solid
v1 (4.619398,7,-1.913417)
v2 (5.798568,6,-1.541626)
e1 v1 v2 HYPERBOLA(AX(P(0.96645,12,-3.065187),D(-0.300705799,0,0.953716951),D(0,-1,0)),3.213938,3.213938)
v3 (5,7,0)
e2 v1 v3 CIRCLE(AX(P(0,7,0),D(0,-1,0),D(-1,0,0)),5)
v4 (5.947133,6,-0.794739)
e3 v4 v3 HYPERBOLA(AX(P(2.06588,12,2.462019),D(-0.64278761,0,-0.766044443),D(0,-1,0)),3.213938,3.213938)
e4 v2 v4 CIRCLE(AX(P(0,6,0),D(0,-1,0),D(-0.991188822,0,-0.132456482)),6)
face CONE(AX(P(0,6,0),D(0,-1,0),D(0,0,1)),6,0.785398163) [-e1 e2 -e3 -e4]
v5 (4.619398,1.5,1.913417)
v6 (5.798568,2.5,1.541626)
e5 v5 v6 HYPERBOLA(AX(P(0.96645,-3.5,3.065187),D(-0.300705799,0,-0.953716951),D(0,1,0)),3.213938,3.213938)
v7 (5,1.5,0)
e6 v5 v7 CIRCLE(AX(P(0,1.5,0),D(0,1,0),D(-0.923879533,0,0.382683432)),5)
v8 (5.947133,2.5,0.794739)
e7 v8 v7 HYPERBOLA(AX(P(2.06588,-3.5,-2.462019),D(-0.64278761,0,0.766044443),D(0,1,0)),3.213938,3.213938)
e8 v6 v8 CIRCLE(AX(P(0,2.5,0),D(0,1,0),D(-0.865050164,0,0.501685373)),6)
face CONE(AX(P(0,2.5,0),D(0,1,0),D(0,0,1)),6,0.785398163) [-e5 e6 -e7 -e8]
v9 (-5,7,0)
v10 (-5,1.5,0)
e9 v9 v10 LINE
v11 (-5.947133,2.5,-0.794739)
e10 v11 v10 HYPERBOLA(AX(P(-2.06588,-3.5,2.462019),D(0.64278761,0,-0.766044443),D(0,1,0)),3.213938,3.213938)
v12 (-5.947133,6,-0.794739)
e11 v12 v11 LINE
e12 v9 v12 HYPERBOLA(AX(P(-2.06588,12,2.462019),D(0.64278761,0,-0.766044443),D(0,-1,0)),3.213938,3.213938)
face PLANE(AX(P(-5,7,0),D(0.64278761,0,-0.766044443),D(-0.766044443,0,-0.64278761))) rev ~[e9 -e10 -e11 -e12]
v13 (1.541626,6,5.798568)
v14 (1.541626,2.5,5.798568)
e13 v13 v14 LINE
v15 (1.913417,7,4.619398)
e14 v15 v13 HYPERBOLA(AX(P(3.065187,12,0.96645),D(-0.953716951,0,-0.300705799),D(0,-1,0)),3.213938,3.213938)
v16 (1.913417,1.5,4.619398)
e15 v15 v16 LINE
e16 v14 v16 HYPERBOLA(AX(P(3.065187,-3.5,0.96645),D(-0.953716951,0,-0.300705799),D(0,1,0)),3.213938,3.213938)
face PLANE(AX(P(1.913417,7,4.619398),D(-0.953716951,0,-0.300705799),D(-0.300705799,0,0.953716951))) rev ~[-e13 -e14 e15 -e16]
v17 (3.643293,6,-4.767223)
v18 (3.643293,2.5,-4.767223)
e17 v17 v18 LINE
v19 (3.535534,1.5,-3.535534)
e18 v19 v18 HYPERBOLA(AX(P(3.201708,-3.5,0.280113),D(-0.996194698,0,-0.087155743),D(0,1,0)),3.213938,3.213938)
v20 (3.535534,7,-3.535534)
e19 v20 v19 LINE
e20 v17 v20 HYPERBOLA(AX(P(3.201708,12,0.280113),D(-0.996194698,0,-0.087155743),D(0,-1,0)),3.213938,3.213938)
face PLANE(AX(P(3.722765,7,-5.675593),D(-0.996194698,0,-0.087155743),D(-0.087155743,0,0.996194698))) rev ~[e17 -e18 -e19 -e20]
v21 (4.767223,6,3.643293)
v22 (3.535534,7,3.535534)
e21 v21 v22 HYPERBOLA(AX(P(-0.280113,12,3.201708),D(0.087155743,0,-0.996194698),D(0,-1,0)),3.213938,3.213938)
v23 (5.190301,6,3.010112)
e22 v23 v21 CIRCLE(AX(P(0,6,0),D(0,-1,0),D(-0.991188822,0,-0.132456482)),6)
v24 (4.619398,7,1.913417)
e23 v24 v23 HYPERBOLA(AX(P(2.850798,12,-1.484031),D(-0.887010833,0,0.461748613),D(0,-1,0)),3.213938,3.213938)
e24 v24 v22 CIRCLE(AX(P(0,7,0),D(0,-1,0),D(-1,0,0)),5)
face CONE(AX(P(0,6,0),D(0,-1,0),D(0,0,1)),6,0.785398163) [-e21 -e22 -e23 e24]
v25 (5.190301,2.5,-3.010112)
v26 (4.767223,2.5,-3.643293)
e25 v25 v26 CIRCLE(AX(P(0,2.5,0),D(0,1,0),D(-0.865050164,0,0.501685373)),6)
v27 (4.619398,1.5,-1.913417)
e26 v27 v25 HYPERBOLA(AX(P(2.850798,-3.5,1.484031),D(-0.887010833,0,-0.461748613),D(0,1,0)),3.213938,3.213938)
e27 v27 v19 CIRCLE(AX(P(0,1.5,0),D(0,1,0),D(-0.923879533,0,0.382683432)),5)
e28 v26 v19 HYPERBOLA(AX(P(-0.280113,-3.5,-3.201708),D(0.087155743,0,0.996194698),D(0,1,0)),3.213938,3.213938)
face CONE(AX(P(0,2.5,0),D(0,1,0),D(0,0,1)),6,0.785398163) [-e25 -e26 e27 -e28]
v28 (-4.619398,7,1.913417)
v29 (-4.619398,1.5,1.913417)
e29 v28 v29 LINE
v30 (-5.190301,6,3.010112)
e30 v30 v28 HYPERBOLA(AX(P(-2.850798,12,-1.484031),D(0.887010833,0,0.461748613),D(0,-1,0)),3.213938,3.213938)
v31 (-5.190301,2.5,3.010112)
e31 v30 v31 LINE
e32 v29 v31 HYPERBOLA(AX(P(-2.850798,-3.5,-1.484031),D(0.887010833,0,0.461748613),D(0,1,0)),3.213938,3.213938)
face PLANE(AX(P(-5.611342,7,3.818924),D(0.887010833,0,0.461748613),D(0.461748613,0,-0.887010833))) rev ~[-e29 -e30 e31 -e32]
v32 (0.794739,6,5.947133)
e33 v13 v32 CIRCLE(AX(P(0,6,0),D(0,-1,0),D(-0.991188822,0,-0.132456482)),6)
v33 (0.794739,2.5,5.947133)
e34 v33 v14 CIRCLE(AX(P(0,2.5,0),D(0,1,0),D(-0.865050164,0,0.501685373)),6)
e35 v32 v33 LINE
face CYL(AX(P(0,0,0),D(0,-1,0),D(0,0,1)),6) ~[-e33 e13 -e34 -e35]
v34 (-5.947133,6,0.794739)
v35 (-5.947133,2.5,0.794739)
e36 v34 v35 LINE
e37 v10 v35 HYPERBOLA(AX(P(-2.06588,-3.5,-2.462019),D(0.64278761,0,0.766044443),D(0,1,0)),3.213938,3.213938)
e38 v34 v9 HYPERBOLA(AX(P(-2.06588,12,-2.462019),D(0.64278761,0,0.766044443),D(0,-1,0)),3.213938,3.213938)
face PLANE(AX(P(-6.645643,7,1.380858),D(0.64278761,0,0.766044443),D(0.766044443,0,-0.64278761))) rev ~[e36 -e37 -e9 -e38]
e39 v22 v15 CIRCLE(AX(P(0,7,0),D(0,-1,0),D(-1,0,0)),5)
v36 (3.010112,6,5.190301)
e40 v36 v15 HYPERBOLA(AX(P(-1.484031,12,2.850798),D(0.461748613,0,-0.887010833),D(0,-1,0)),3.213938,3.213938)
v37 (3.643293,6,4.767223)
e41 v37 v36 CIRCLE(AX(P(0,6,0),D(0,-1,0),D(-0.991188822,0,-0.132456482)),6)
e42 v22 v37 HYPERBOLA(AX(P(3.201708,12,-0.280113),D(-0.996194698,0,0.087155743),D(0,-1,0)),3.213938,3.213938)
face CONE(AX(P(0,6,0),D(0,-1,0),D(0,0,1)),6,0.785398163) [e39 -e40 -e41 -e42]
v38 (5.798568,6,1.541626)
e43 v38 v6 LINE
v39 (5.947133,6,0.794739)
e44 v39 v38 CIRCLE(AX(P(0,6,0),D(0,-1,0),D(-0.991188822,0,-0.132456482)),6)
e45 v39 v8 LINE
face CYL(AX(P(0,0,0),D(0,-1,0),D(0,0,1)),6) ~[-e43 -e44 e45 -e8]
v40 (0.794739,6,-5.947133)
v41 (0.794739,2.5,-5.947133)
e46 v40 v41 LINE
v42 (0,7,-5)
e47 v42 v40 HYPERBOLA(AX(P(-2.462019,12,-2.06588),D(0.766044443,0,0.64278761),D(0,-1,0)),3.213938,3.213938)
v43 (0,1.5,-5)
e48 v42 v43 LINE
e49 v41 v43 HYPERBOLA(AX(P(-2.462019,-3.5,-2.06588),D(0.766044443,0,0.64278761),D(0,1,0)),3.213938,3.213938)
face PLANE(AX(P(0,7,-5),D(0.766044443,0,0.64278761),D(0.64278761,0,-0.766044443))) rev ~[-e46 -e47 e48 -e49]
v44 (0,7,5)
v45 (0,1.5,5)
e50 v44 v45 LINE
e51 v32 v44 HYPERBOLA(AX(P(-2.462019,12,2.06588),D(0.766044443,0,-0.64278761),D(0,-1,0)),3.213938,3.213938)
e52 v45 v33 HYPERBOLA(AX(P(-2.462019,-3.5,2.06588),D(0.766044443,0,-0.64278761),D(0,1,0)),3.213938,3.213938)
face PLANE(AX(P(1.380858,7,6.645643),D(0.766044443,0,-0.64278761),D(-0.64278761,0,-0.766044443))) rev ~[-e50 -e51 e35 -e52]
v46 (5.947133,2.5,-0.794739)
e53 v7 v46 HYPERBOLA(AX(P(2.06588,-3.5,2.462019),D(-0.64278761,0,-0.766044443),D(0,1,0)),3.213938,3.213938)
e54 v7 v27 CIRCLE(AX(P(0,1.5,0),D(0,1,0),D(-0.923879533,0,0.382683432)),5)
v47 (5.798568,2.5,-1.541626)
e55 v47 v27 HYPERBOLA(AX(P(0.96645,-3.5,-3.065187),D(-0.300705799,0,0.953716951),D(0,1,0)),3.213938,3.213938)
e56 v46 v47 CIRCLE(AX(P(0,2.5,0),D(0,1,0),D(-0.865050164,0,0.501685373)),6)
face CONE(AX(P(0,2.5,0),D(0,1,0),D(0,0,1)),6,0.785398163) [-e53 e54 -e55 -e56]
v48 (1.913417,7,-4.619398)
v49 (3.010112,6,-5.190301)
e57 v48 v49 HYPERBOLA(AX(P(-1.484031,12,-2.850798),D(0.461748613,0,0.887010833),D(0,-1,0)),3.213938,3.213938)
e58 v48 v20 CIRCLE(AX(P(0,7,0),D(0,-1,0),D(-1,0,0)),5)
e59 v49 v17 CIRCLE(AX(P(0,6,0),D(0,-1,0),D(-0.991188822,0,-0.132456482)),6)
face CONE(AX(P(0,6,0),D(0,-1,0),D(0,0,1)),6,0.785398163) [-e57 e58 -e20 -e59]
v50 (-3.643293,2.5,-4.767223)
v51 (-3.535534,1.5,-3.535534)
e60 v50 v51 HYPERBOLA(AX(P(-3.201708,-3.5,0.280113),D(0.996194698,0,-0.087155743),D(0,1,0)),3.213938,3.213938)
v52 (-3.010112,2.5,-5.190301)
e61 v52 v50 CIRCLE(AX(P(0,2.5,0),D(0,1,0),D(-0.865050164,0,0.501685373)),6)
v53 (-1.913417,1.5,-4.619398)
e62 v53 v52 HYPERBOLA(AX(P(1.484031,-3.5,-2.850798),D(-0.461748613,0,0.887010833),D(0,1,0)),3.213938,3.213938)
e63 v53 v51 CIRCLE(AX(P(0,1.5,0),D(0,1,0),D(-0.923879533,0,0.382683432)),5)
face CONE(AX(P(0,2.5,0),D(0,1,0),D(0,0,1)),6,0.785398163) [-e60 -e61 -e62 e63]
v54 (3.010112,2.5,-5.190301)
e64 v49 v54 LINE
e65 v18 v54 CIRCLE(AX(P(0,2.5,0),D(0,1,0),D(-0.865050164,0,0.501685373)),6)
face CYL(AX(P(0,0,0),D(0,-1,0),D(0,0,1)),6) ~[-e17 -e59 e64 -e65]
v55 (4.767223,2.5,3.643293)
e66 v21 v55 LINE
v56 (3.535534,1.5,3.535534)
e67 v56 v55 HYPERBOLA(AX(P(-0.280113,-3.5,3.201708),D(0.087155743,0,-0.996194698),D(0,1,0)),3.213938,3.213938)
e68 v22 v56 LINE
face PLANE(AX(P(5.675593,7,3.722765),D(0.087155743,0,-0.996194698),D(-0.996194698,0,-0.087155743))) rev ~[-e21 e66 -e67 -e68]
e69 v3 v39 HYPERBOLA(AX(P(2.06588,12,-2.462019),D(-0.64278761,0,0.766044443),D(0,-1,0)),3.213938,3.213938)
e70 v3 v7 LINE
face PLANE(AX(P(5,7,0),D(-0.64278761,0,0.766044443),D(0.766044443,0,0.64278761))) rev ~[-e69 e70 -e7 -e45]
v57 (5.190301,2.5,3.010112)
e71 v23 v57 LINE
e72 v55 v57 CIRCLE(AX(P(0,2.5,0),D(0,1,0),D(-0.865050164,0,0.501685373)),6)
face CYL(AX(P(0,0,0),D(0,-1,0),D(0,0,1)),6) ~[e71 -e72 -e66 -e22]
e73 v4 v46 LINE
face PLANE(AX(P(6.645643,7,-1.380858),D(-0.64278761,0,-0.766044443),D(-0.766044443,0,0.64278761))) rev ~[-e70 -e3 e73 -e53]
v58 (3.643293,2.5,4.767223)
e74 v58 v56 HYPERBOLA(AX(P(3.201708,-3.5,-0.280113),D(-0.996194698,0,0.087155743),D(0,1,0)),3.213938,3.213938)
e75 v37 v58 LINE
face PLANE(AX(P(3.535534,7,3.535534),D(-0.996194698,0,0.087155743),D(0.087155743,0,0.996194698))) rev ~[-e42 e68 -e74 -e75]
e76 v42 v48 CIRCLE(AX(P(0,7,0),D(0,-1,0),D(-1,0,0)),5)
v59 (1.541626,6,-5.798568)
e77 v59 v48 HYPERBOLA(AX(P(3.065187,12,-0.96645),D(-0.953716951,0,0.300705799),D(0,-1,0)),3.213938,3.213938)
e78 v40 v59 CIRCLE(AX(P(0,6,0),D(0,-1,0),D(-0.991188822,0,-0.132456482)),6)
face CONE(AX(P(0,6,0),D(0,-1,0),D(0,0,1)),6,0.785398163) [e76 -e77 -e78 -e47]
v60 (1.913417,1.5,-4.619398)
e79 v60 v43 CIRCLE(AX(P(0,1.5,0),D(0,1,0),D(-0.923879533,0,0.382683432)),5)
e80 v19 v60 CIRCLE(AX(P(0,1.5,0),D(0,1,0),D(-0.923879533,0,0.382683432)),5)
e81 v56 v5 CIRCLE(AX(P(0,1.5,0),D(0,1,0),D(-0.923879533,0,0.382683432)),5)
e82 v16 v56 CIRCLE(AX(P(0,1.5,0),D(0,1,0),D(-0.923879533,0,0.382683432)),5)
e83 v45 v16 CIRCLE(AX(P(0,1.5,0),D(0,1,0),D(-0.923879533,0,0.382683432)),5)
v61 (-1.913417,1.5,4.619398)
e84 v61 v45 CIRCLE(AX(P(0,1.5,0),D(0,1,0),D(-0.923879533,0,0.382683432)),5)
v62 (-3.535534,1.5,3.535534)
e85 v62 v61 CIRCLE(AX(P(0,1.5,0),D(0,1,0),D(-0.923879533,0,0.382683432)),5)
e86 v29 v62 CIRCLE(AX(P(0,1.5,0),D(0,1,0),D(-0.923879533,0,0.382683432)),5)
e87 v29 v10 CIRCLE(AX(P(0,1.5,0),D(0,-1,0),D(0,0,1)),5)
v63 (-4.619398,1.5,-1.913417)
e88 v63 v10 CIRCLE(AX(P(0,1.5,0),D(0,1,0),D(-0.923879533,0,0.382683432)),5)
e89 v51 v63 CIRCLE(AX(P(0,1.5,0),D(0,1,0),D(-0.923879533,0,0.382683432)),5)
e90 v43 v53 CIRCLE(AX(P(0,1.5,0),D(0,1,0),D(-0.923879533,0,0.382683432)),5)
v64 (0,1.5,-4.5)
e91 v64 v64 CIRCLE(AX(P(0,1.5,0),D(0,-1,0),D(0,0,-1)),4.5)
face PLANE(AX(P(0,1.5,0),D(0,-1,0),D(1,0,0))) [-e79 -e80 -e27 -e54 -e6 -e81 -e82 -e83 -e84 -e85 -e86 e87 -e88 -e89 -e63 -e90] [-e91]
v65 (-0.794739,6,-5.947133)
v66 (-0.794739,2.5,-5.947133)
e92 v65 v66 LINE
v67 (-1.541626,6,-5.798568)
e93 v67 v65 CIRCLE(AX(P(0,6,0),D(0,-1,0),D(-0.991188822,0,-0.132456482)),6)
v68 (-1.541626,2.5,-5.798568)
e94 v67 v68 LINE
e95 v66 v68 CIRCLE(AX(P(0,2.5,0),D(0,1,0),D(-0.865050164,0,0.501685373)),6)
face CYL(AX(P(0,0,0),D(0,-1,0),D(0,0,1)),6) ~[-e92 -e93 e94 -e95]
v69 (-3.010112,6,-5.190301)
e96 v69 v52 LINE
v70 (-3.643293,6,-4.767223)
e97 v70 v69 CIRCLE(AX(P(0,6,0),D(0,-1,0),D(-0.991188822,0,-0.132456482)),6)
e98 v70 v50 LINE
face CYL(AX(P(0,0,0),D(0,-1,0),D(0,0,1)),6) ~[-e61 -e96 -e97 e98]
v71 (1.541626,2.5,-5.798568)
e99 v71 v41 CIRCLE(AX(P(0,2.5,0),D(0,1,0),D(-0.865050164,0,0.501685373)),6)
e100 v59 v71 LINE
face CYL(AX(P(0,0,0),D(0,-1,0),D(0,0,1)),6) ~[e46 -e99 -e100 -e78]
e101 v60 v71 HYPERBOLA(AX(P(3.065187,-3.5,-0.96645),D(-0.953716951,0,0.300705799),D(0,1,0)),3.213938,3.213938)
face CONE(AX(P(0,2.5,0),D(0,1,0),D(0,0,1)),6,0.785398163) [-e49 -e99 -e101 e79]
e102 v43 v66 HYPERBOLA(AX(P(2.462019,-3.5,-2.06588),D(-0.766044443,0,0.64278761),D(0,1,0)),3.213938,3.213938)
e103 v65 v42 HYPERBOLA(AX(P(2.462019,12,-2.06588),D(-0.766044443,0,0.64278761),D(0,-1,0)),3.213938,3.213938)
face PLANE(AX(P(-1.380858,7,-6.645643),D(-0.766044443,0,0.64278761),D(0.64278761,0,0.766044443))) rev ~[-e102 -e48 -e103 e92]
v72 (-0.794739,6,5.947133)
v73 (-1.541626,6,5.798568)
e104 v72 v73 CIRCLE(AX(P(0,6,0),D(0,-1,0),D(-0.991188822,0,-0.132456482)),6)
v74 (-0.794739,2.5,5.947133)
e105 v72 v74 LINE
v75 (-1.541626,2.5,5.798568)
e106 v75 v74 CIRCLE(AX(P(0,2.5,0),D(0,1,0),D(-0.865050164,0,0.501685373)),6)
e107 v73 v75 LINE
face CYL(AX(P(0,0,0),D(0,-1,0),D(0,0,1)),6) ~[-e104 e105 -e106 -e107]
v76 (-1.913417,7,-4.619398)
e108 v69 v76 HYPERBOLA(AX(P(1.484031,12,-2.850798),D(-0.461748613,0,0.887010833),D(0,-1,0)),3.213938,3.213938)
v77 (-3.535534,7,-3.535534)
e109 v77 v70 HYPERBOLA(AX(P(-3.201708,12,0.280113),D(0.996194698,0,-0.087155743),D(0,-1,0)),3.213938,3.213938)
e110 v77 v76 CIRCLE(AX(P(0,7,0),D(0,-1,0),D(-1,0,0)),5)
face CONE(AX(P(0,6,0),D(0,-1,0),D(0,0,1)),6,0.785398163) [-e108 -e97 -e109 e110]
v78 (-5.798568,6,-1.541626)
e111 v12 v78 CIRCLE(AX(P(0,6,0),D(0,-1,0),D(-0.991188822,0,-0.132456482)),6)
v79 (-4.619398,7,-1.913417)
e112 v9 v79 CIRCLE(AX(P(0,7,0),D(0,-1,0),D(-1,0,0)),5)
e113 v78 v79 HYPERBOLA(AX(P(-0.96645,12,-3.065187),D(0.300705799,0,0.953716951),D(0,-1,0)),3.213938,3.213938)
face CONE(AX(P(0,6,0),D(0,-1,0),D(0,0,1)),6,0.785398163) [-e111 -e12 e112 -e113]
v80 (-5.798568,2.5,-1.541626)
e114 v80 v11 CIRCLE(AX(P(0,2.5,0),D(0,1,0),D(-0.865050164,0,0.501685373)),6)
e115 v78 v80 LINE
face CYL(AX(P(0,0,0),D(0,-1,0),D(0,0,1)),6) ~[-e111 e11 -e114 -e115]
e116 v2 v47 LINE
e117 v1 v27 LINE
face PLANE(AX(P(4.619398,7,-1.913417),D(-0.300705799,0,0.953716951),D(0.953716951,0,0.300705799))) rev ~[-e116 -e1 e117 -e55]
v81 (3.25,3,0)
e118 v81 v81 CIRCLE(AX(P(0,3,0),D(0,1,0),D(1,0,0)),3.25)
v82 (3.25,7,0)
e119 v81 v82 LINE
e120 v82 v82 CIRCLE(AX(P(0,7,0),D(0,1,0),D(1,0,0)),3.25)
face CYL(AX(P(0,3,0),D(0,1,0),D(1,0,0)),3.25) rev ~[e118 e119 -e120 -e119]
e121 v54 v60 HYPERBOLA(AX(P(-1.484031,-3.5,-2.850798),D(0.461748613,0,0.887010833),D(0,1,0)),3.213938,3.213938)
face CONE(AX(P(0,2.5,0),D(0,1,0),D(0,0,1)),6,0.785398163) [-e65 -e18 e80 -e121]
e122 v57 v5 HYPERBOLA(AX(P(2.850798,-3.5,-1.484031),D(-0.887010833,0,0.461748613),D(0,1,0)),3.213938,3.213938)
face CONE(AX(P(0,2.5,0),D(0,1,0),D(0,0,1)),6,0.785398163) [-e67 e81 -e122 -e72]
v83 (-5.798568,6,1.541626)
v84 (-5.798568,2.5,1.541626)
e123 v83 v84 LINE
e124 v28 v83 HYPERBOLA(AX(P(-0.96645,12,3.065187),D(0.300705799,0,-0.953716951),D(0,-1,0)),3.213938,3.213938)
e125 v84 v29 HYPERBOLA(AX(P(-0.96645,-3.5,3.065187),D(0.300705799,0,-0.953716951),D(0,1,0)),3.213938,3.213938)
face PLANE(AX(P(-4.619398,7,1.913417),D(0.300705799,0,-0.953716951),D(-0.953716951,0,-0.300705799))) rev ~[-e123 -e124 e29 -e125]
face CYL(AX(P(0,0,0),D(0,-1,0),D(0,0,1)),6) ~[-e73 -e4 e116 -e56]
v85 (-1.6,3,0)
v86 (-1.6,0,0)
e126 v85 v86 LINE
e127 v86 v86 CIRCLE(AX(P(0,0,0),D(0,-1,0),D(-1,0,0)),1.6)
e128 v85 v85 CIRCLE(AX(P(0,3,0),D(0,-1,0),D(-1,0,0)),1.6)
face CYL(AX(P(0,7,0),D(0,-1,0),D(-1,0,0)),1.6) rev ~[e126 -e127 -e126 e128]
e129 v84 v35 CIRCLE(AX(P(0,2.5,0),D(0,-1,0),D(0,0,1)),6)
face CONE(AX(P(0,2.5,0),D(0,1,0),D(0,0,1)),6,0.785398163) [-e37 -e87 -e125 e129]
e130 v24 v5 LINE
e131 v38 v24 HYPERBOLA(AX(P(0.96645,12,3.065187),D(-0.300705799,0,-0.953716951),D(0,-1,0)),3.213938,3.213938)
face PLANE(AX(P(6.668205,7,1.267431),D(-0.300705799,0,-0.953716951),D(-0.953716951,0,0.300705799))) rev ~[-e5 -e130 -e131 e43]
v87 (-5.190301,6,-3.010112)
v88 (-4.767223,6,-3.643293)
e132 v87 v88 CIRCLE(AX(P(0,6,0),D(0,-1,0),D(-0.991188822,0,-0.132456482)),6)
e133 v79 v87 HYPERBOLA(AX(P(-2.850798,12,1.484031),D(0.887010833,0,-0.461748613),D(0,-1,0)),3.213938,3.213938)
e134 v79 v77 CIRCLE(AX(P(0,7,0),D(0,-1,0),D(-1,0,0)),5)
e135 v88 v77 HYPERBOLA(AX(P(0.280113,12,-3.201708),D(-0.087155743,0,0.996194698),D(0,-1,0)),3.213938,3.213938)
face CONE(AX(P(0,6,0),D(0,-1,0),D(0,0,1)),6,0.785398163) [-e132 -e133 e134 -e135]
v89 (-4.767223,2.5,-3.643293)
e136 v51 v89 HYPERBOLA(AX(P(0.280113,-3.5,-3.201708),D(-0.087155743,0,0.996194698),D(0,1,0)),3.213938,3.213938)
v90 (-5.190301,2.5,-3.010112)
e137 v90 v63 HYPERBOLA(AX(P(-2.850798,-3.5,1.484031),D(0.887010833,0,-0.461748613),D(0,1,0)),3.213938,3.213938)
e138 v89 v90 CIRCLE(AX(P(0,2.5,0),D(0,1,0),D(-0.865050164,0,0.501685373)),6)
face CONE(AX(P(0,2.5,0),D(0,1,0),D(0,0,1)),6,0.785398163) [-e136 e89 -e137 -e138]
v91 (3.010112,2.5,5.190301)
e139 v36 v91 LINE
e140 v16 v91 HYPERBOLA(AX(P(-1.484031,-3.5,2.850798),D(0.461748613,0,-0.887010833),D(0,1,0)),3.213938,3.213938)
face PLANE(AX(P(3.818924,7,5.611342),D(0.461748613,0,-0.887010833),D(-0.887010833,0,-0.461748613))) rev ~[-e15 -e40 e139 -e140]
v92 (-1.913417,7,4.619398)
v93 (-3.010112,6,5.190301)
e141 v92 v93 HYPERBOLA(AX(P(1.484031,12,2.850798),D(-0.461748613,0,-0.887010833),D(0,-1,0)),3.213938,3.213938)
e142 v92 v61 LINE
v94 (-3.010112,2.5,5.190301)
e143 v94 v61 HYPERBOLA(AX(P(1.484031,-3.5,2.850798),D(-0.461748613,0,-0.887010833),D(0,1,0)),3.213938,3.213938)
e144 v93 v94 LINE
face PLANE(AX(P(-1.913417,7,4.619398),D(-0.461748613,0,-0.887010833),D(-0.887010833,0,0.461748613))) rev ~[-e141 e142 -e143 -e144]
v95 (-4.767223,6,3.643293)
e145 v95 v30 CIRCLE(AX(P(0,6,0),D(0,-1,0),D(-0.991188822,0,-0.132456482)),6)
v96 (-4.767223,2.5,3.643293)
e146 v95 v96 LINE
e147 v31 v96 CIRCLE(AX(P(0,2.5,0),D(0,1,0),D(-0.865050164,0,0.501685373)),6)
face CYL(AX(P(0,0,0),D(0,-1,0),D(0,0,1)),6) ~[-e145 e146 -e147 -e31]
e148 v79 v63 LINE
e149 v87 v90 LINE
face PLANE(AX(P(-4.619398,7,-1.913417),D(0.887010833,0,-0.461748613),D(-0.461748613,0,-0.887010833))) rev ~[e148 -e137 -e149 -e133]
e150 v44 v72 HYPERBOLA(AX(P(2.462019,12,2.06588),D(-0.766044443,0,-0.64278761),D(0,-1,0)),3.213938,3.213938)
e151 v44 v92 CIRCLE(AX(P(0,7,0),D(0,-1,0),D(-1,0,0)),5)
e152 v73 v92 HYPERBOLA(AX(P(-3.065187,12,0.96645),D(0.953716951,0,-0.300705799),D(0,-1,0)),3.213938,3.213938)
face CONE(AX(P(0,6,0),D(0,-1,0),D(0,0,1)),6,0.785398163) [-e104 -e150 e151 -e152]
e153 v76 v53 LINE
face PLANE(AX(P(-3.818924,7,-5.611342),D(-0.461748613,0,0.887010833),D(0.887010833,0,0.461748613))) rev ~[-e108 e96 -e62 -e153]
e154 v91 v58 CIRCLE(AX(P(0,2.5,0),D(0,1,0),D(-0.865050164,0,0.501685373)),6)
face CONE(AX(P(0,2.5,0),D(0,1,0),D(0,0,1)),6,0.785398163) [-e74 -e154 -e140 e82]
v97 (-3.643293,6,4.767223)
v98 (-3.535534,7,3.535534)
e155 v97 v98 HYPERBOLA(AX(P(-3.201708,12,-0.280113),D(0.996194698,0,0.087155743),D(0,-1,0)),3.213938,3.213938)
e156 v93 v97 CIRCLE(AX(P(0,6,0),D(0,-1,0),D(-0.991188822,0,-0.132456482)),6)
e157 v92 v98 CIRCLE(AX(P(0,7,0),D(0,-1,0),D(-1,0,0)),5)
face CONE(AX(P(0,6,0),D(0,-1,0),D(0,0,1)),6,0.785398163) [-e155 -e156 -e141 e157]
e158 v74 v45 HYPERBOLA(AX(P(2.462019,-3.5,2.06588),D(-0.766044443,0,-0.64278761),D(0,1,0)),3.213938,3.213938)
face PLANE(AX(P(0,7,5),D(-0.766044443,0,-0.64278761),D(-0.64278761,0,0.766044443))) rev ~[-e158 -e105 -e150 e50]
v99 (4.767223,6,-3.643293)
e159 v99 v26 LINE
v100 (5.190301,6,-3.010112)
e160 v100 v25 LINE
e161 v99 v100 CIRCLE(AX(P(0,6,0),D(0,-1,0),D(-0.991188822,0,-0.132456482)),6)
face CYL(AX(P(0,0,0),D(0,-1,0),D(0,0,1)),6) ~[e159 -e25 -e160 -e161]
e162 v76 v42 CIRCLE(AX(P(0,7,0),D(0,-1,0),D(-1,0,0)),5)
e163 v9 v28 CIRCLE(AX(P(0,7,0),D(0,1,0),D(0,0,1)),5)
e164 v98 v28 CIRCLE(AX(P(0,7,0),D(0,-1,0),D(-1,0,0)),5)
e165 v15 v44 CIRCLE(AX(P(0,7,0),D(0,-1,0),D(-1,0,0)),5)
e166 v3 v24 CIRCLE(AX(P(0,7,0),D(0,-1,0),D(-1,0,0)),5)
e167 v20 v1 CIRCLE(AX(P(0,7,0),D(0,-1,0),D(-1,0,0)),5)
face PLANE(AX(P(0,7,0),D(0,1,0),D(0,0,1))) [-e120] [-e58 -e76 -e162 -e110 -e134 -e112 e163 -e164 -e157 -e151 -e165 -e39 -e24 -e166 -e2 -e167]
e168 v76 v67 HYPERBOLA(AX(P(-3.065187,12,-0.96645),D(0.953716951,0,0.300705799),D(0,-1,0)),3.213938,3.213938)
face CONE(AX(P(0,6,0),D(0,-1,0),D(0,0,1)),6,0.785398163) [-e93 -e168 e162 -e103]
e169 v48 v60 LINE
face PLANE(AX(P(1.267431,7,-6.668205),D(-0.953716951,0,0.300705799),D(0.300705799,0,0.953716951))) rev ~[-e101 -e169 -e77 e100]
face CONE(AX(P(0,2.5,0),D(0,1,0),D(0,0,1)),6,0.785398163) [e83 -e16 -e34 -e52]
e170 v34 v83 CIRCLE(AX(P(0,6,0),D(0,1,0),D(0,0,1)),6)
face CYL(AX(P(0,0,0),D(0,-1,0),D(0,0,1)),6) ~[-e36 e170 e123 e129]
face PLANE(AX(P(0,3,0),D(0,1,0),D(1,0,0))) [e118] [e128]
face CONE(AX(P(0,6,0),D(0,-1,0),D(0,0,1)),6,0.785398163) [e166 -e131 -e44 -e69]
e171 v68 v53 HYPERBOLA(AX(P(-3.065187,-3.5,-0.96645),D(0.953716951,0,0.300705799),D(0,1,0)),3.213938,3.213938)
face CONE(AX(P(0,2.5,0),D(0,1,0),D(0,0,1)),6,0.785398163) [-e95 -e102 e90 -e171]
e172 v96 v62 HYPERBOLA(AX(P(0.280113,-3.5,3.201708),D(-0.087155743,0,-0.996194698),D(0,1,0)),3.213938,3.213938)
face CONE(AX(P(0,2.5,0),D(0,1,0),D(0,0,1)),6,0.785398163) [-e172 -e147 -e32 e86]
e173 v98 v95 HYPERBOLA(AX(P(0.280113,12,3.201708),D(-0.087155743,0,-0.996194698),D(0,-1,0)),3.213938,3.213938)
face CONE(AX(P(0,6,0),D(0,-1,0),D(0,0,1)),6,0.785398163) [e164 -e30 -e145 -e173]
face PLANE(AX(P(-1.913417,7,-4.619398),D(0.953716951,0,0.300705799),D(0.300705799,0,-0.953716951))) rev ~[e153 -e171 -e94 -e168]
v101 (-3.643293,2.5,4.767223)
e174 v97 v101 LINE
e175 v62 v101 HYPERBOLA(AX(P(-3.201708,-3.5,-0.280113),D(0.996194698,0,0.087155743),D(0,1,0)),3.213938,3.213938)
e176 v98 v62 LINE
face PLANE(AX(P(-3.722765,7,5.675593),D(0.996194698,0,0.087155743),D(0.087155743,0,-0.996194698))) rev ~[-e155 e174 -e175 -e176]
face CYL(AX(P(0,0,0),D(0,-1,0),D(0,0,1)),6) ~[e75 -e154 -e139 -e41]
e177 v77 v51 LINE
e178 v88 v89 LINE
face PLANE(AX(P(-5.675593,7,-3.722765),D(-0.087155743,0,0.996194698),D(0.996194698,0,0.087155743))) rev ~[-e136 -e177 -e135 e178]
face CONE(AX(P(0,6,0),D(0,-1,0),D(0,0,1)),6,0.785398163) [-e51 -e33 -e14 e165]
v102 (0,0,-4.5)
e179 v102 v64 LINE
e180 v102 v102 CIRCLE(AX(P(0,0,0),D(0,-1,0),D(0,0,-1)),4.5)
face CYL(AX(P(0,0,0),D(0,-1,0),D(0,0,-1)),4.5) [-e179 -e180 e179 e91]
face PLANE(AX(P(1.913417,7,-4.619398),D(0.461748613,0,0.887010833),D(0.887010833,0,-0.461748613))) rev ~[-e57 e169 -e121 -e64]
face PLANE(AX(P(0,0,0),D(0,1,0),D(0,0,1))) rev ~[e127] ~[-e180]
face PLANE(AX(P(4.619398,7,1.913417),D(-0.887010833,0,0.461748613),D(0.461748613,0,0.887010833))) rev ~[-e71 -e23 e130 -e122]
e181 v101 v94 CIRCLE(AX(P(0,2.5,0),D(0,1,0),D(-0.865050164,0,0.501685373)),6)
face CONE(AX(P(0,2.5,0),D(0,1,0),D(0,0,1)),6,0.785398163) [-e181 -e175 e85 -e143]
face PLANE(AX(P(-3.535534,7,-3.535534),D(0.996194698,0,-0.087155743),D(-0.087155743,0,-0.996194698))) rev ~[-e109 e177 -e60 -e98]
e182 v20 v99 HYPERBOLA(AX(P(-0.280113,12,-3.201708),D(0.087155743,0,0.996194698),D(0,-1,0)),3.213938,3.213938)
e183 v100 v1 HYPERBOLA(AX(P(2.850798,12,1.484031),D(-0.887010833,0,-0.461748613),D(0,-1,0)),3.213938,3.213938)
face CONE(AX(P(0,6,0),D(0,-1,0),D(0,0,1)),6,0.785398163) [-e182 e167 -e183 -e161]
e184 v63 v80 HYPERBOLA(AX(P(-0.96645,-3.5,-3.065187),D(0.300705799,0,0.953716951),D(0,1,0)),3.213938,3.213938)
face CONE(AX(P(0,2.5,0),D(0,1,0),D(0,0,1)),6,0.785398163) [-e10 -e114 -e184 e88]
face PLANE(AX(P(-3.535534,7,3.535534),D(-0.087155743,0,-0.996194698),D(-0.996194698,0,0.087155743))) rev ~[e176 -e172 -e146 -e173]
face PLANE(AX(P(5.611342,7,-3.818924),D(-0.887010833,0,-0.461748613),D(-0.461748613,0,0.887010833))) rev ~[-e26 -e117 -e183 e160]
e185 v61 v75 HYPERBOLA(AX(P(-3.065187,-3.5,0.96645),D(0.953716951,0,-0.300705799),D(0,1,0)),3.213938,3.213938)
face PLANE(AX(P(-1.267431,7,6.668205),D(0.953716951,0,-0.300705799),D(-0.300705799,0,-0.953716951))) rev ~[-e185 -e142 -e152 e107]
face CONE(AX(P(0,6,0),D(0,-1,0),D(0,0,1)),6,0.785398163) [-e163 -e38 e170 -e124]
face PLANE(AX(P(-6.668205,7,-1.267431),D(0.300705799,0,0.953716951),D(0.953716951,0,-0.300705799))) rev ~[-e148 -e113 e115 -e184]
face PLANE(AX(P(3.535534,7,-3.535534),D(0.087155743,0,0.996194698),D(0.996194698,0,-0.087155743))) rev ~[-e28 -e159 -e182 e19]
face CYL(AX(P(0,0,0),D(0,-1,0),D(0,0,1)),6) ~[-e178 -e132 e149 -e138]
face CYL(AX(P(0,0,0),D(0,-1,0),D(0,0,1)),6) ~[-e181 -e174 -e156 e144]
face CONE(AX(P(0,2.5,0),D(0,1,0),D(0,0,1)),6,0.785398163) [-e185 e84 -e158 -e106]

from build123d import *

# Parameters (mm, degrees)
ESQUISSE1_R                                     = 6
BOSS_EXTRU_1_DEPTH                              = 7
ESQUISSE2_OUTSIDE_W                             = 17.672
ESQUISSE2_OUTSIDE_H                             = 17.672
ESQUISSE2_OUTSIDE_R                             = 4.5
ENL_V_MAT_EXTRU_1_DEPTH                         = 1.5
CHANFREIN1_SIZE                                 = 1
CHAMBRAGE_POUR_VIS_T_TE_CYLINDRIQUE_D           = 3.2
CHAMBRAGE_POUR_VIS_T_TE_CYLINDRIQUE_CBORE_D     = 6.5
CHAMBRAGE_POUR_VIS_T_TE_CYLINDRIQUE_CBORE_DEPTH = 4
ENL_V_MAT_EXTRU_2_DEPTH                         = 12
R_P_TITION_CIRCULAIRE1_COUNT                    = 16


with BuildPart() as part:
    # Esquisse1 → Boss.-Extru.1 (new body)
    with BuildSketch(Plane(origin=(0, 0, 0), x_dir=(1, 0, 0), z_dir=(0, 1, 0))):
        with Locations(Location((0, 0, 0), (0, 0, 270))):
            Circle(ESQUISSE1_R)
    extrude(amount=BOSS_EXTRU_1_DEPTH)

    # Esquisse2 outside → Enlèv. mat.-Extru.1 (cut)
    with BuildSketch(Plane.XZ):
        Rectangle(ESQUISSE2_OUTSIDE_W, ESQUISSE2_OUTSIDE_H)
        with Locations(Location((0, 0, 0), (0, 0, 270))):
            Circle(ESQUISSE2_OUTSIDE_R, mode=Mode.SUBTRACT)
    extrude(amount=-ENL_V_MAT_EXTRU_1_DEPTH, mode=Mode.SUBTRACT)

    # Chanfrein1
    chanfrein1_edges = [part.edges().sort_by_distance(p)[0] for p in [
        (0, 7, -6),
        (0, 1.5, -6),
    ]]
    chamfer(chanfrein1_edges, length=CHANFREIN1_SIZE)

    # Chambrage pour vis à tête cylindrique à 6 pans creux (ou vis CHC) M31 (through all)
    with Locations(Plane(origin=(0, 7, 0), x_dir=(1, 0, 0), z_dir=(0, 1, 0))):
        with Locations((0, 0)):
            CounterBoreHole(CHAMBRAGE_POUR_VIS_T_TE_CYLINDRIQUE_D / 2, CHAMBRAGE_POUR_VIS_T_TE_CYLINDRIQUE_CBORE_D / 2, CHAMBRAGE_POUR_VIS_T_TE_CYLINDRIQUE_CBORE_DEPTH)

    # Esquisse5 → Enlèv. mat.-Extru.2 (cut, through all)
    with BuildSketch(Plane(origin=(0, 7, 0), x_dir=(1, 0, 0), z_dir=(0, 1, 0))):
        Polygon((-5, 0), (-6.645642825, 1.380858287), (-6.645642825, -1.380858287), align=None)
    enl_v_mat_extru_2 = extrude(amount=-ENL_V_MAT_EXTRU_2_DEPTH, mode=Mode.SUBTRACT)

    # Répétition circulaire1: Enlèv. mat.-Extru.2 ×16 about axis
    r_p_tition_circulaire1_axis = Axis((0, 0, 0), (0, 1, 0))
    for i in range(1, R_P_TITION_CIRCULAIRE1_COUNT):
        add(enl_v_mat_extru_2.rotate(r_p_tition_circulaire1_axis, i * 360 / R_P_TITION_CIRCULAIRE1_COUNT), mode=Mode.SUBTRACT)


solid = part.part
